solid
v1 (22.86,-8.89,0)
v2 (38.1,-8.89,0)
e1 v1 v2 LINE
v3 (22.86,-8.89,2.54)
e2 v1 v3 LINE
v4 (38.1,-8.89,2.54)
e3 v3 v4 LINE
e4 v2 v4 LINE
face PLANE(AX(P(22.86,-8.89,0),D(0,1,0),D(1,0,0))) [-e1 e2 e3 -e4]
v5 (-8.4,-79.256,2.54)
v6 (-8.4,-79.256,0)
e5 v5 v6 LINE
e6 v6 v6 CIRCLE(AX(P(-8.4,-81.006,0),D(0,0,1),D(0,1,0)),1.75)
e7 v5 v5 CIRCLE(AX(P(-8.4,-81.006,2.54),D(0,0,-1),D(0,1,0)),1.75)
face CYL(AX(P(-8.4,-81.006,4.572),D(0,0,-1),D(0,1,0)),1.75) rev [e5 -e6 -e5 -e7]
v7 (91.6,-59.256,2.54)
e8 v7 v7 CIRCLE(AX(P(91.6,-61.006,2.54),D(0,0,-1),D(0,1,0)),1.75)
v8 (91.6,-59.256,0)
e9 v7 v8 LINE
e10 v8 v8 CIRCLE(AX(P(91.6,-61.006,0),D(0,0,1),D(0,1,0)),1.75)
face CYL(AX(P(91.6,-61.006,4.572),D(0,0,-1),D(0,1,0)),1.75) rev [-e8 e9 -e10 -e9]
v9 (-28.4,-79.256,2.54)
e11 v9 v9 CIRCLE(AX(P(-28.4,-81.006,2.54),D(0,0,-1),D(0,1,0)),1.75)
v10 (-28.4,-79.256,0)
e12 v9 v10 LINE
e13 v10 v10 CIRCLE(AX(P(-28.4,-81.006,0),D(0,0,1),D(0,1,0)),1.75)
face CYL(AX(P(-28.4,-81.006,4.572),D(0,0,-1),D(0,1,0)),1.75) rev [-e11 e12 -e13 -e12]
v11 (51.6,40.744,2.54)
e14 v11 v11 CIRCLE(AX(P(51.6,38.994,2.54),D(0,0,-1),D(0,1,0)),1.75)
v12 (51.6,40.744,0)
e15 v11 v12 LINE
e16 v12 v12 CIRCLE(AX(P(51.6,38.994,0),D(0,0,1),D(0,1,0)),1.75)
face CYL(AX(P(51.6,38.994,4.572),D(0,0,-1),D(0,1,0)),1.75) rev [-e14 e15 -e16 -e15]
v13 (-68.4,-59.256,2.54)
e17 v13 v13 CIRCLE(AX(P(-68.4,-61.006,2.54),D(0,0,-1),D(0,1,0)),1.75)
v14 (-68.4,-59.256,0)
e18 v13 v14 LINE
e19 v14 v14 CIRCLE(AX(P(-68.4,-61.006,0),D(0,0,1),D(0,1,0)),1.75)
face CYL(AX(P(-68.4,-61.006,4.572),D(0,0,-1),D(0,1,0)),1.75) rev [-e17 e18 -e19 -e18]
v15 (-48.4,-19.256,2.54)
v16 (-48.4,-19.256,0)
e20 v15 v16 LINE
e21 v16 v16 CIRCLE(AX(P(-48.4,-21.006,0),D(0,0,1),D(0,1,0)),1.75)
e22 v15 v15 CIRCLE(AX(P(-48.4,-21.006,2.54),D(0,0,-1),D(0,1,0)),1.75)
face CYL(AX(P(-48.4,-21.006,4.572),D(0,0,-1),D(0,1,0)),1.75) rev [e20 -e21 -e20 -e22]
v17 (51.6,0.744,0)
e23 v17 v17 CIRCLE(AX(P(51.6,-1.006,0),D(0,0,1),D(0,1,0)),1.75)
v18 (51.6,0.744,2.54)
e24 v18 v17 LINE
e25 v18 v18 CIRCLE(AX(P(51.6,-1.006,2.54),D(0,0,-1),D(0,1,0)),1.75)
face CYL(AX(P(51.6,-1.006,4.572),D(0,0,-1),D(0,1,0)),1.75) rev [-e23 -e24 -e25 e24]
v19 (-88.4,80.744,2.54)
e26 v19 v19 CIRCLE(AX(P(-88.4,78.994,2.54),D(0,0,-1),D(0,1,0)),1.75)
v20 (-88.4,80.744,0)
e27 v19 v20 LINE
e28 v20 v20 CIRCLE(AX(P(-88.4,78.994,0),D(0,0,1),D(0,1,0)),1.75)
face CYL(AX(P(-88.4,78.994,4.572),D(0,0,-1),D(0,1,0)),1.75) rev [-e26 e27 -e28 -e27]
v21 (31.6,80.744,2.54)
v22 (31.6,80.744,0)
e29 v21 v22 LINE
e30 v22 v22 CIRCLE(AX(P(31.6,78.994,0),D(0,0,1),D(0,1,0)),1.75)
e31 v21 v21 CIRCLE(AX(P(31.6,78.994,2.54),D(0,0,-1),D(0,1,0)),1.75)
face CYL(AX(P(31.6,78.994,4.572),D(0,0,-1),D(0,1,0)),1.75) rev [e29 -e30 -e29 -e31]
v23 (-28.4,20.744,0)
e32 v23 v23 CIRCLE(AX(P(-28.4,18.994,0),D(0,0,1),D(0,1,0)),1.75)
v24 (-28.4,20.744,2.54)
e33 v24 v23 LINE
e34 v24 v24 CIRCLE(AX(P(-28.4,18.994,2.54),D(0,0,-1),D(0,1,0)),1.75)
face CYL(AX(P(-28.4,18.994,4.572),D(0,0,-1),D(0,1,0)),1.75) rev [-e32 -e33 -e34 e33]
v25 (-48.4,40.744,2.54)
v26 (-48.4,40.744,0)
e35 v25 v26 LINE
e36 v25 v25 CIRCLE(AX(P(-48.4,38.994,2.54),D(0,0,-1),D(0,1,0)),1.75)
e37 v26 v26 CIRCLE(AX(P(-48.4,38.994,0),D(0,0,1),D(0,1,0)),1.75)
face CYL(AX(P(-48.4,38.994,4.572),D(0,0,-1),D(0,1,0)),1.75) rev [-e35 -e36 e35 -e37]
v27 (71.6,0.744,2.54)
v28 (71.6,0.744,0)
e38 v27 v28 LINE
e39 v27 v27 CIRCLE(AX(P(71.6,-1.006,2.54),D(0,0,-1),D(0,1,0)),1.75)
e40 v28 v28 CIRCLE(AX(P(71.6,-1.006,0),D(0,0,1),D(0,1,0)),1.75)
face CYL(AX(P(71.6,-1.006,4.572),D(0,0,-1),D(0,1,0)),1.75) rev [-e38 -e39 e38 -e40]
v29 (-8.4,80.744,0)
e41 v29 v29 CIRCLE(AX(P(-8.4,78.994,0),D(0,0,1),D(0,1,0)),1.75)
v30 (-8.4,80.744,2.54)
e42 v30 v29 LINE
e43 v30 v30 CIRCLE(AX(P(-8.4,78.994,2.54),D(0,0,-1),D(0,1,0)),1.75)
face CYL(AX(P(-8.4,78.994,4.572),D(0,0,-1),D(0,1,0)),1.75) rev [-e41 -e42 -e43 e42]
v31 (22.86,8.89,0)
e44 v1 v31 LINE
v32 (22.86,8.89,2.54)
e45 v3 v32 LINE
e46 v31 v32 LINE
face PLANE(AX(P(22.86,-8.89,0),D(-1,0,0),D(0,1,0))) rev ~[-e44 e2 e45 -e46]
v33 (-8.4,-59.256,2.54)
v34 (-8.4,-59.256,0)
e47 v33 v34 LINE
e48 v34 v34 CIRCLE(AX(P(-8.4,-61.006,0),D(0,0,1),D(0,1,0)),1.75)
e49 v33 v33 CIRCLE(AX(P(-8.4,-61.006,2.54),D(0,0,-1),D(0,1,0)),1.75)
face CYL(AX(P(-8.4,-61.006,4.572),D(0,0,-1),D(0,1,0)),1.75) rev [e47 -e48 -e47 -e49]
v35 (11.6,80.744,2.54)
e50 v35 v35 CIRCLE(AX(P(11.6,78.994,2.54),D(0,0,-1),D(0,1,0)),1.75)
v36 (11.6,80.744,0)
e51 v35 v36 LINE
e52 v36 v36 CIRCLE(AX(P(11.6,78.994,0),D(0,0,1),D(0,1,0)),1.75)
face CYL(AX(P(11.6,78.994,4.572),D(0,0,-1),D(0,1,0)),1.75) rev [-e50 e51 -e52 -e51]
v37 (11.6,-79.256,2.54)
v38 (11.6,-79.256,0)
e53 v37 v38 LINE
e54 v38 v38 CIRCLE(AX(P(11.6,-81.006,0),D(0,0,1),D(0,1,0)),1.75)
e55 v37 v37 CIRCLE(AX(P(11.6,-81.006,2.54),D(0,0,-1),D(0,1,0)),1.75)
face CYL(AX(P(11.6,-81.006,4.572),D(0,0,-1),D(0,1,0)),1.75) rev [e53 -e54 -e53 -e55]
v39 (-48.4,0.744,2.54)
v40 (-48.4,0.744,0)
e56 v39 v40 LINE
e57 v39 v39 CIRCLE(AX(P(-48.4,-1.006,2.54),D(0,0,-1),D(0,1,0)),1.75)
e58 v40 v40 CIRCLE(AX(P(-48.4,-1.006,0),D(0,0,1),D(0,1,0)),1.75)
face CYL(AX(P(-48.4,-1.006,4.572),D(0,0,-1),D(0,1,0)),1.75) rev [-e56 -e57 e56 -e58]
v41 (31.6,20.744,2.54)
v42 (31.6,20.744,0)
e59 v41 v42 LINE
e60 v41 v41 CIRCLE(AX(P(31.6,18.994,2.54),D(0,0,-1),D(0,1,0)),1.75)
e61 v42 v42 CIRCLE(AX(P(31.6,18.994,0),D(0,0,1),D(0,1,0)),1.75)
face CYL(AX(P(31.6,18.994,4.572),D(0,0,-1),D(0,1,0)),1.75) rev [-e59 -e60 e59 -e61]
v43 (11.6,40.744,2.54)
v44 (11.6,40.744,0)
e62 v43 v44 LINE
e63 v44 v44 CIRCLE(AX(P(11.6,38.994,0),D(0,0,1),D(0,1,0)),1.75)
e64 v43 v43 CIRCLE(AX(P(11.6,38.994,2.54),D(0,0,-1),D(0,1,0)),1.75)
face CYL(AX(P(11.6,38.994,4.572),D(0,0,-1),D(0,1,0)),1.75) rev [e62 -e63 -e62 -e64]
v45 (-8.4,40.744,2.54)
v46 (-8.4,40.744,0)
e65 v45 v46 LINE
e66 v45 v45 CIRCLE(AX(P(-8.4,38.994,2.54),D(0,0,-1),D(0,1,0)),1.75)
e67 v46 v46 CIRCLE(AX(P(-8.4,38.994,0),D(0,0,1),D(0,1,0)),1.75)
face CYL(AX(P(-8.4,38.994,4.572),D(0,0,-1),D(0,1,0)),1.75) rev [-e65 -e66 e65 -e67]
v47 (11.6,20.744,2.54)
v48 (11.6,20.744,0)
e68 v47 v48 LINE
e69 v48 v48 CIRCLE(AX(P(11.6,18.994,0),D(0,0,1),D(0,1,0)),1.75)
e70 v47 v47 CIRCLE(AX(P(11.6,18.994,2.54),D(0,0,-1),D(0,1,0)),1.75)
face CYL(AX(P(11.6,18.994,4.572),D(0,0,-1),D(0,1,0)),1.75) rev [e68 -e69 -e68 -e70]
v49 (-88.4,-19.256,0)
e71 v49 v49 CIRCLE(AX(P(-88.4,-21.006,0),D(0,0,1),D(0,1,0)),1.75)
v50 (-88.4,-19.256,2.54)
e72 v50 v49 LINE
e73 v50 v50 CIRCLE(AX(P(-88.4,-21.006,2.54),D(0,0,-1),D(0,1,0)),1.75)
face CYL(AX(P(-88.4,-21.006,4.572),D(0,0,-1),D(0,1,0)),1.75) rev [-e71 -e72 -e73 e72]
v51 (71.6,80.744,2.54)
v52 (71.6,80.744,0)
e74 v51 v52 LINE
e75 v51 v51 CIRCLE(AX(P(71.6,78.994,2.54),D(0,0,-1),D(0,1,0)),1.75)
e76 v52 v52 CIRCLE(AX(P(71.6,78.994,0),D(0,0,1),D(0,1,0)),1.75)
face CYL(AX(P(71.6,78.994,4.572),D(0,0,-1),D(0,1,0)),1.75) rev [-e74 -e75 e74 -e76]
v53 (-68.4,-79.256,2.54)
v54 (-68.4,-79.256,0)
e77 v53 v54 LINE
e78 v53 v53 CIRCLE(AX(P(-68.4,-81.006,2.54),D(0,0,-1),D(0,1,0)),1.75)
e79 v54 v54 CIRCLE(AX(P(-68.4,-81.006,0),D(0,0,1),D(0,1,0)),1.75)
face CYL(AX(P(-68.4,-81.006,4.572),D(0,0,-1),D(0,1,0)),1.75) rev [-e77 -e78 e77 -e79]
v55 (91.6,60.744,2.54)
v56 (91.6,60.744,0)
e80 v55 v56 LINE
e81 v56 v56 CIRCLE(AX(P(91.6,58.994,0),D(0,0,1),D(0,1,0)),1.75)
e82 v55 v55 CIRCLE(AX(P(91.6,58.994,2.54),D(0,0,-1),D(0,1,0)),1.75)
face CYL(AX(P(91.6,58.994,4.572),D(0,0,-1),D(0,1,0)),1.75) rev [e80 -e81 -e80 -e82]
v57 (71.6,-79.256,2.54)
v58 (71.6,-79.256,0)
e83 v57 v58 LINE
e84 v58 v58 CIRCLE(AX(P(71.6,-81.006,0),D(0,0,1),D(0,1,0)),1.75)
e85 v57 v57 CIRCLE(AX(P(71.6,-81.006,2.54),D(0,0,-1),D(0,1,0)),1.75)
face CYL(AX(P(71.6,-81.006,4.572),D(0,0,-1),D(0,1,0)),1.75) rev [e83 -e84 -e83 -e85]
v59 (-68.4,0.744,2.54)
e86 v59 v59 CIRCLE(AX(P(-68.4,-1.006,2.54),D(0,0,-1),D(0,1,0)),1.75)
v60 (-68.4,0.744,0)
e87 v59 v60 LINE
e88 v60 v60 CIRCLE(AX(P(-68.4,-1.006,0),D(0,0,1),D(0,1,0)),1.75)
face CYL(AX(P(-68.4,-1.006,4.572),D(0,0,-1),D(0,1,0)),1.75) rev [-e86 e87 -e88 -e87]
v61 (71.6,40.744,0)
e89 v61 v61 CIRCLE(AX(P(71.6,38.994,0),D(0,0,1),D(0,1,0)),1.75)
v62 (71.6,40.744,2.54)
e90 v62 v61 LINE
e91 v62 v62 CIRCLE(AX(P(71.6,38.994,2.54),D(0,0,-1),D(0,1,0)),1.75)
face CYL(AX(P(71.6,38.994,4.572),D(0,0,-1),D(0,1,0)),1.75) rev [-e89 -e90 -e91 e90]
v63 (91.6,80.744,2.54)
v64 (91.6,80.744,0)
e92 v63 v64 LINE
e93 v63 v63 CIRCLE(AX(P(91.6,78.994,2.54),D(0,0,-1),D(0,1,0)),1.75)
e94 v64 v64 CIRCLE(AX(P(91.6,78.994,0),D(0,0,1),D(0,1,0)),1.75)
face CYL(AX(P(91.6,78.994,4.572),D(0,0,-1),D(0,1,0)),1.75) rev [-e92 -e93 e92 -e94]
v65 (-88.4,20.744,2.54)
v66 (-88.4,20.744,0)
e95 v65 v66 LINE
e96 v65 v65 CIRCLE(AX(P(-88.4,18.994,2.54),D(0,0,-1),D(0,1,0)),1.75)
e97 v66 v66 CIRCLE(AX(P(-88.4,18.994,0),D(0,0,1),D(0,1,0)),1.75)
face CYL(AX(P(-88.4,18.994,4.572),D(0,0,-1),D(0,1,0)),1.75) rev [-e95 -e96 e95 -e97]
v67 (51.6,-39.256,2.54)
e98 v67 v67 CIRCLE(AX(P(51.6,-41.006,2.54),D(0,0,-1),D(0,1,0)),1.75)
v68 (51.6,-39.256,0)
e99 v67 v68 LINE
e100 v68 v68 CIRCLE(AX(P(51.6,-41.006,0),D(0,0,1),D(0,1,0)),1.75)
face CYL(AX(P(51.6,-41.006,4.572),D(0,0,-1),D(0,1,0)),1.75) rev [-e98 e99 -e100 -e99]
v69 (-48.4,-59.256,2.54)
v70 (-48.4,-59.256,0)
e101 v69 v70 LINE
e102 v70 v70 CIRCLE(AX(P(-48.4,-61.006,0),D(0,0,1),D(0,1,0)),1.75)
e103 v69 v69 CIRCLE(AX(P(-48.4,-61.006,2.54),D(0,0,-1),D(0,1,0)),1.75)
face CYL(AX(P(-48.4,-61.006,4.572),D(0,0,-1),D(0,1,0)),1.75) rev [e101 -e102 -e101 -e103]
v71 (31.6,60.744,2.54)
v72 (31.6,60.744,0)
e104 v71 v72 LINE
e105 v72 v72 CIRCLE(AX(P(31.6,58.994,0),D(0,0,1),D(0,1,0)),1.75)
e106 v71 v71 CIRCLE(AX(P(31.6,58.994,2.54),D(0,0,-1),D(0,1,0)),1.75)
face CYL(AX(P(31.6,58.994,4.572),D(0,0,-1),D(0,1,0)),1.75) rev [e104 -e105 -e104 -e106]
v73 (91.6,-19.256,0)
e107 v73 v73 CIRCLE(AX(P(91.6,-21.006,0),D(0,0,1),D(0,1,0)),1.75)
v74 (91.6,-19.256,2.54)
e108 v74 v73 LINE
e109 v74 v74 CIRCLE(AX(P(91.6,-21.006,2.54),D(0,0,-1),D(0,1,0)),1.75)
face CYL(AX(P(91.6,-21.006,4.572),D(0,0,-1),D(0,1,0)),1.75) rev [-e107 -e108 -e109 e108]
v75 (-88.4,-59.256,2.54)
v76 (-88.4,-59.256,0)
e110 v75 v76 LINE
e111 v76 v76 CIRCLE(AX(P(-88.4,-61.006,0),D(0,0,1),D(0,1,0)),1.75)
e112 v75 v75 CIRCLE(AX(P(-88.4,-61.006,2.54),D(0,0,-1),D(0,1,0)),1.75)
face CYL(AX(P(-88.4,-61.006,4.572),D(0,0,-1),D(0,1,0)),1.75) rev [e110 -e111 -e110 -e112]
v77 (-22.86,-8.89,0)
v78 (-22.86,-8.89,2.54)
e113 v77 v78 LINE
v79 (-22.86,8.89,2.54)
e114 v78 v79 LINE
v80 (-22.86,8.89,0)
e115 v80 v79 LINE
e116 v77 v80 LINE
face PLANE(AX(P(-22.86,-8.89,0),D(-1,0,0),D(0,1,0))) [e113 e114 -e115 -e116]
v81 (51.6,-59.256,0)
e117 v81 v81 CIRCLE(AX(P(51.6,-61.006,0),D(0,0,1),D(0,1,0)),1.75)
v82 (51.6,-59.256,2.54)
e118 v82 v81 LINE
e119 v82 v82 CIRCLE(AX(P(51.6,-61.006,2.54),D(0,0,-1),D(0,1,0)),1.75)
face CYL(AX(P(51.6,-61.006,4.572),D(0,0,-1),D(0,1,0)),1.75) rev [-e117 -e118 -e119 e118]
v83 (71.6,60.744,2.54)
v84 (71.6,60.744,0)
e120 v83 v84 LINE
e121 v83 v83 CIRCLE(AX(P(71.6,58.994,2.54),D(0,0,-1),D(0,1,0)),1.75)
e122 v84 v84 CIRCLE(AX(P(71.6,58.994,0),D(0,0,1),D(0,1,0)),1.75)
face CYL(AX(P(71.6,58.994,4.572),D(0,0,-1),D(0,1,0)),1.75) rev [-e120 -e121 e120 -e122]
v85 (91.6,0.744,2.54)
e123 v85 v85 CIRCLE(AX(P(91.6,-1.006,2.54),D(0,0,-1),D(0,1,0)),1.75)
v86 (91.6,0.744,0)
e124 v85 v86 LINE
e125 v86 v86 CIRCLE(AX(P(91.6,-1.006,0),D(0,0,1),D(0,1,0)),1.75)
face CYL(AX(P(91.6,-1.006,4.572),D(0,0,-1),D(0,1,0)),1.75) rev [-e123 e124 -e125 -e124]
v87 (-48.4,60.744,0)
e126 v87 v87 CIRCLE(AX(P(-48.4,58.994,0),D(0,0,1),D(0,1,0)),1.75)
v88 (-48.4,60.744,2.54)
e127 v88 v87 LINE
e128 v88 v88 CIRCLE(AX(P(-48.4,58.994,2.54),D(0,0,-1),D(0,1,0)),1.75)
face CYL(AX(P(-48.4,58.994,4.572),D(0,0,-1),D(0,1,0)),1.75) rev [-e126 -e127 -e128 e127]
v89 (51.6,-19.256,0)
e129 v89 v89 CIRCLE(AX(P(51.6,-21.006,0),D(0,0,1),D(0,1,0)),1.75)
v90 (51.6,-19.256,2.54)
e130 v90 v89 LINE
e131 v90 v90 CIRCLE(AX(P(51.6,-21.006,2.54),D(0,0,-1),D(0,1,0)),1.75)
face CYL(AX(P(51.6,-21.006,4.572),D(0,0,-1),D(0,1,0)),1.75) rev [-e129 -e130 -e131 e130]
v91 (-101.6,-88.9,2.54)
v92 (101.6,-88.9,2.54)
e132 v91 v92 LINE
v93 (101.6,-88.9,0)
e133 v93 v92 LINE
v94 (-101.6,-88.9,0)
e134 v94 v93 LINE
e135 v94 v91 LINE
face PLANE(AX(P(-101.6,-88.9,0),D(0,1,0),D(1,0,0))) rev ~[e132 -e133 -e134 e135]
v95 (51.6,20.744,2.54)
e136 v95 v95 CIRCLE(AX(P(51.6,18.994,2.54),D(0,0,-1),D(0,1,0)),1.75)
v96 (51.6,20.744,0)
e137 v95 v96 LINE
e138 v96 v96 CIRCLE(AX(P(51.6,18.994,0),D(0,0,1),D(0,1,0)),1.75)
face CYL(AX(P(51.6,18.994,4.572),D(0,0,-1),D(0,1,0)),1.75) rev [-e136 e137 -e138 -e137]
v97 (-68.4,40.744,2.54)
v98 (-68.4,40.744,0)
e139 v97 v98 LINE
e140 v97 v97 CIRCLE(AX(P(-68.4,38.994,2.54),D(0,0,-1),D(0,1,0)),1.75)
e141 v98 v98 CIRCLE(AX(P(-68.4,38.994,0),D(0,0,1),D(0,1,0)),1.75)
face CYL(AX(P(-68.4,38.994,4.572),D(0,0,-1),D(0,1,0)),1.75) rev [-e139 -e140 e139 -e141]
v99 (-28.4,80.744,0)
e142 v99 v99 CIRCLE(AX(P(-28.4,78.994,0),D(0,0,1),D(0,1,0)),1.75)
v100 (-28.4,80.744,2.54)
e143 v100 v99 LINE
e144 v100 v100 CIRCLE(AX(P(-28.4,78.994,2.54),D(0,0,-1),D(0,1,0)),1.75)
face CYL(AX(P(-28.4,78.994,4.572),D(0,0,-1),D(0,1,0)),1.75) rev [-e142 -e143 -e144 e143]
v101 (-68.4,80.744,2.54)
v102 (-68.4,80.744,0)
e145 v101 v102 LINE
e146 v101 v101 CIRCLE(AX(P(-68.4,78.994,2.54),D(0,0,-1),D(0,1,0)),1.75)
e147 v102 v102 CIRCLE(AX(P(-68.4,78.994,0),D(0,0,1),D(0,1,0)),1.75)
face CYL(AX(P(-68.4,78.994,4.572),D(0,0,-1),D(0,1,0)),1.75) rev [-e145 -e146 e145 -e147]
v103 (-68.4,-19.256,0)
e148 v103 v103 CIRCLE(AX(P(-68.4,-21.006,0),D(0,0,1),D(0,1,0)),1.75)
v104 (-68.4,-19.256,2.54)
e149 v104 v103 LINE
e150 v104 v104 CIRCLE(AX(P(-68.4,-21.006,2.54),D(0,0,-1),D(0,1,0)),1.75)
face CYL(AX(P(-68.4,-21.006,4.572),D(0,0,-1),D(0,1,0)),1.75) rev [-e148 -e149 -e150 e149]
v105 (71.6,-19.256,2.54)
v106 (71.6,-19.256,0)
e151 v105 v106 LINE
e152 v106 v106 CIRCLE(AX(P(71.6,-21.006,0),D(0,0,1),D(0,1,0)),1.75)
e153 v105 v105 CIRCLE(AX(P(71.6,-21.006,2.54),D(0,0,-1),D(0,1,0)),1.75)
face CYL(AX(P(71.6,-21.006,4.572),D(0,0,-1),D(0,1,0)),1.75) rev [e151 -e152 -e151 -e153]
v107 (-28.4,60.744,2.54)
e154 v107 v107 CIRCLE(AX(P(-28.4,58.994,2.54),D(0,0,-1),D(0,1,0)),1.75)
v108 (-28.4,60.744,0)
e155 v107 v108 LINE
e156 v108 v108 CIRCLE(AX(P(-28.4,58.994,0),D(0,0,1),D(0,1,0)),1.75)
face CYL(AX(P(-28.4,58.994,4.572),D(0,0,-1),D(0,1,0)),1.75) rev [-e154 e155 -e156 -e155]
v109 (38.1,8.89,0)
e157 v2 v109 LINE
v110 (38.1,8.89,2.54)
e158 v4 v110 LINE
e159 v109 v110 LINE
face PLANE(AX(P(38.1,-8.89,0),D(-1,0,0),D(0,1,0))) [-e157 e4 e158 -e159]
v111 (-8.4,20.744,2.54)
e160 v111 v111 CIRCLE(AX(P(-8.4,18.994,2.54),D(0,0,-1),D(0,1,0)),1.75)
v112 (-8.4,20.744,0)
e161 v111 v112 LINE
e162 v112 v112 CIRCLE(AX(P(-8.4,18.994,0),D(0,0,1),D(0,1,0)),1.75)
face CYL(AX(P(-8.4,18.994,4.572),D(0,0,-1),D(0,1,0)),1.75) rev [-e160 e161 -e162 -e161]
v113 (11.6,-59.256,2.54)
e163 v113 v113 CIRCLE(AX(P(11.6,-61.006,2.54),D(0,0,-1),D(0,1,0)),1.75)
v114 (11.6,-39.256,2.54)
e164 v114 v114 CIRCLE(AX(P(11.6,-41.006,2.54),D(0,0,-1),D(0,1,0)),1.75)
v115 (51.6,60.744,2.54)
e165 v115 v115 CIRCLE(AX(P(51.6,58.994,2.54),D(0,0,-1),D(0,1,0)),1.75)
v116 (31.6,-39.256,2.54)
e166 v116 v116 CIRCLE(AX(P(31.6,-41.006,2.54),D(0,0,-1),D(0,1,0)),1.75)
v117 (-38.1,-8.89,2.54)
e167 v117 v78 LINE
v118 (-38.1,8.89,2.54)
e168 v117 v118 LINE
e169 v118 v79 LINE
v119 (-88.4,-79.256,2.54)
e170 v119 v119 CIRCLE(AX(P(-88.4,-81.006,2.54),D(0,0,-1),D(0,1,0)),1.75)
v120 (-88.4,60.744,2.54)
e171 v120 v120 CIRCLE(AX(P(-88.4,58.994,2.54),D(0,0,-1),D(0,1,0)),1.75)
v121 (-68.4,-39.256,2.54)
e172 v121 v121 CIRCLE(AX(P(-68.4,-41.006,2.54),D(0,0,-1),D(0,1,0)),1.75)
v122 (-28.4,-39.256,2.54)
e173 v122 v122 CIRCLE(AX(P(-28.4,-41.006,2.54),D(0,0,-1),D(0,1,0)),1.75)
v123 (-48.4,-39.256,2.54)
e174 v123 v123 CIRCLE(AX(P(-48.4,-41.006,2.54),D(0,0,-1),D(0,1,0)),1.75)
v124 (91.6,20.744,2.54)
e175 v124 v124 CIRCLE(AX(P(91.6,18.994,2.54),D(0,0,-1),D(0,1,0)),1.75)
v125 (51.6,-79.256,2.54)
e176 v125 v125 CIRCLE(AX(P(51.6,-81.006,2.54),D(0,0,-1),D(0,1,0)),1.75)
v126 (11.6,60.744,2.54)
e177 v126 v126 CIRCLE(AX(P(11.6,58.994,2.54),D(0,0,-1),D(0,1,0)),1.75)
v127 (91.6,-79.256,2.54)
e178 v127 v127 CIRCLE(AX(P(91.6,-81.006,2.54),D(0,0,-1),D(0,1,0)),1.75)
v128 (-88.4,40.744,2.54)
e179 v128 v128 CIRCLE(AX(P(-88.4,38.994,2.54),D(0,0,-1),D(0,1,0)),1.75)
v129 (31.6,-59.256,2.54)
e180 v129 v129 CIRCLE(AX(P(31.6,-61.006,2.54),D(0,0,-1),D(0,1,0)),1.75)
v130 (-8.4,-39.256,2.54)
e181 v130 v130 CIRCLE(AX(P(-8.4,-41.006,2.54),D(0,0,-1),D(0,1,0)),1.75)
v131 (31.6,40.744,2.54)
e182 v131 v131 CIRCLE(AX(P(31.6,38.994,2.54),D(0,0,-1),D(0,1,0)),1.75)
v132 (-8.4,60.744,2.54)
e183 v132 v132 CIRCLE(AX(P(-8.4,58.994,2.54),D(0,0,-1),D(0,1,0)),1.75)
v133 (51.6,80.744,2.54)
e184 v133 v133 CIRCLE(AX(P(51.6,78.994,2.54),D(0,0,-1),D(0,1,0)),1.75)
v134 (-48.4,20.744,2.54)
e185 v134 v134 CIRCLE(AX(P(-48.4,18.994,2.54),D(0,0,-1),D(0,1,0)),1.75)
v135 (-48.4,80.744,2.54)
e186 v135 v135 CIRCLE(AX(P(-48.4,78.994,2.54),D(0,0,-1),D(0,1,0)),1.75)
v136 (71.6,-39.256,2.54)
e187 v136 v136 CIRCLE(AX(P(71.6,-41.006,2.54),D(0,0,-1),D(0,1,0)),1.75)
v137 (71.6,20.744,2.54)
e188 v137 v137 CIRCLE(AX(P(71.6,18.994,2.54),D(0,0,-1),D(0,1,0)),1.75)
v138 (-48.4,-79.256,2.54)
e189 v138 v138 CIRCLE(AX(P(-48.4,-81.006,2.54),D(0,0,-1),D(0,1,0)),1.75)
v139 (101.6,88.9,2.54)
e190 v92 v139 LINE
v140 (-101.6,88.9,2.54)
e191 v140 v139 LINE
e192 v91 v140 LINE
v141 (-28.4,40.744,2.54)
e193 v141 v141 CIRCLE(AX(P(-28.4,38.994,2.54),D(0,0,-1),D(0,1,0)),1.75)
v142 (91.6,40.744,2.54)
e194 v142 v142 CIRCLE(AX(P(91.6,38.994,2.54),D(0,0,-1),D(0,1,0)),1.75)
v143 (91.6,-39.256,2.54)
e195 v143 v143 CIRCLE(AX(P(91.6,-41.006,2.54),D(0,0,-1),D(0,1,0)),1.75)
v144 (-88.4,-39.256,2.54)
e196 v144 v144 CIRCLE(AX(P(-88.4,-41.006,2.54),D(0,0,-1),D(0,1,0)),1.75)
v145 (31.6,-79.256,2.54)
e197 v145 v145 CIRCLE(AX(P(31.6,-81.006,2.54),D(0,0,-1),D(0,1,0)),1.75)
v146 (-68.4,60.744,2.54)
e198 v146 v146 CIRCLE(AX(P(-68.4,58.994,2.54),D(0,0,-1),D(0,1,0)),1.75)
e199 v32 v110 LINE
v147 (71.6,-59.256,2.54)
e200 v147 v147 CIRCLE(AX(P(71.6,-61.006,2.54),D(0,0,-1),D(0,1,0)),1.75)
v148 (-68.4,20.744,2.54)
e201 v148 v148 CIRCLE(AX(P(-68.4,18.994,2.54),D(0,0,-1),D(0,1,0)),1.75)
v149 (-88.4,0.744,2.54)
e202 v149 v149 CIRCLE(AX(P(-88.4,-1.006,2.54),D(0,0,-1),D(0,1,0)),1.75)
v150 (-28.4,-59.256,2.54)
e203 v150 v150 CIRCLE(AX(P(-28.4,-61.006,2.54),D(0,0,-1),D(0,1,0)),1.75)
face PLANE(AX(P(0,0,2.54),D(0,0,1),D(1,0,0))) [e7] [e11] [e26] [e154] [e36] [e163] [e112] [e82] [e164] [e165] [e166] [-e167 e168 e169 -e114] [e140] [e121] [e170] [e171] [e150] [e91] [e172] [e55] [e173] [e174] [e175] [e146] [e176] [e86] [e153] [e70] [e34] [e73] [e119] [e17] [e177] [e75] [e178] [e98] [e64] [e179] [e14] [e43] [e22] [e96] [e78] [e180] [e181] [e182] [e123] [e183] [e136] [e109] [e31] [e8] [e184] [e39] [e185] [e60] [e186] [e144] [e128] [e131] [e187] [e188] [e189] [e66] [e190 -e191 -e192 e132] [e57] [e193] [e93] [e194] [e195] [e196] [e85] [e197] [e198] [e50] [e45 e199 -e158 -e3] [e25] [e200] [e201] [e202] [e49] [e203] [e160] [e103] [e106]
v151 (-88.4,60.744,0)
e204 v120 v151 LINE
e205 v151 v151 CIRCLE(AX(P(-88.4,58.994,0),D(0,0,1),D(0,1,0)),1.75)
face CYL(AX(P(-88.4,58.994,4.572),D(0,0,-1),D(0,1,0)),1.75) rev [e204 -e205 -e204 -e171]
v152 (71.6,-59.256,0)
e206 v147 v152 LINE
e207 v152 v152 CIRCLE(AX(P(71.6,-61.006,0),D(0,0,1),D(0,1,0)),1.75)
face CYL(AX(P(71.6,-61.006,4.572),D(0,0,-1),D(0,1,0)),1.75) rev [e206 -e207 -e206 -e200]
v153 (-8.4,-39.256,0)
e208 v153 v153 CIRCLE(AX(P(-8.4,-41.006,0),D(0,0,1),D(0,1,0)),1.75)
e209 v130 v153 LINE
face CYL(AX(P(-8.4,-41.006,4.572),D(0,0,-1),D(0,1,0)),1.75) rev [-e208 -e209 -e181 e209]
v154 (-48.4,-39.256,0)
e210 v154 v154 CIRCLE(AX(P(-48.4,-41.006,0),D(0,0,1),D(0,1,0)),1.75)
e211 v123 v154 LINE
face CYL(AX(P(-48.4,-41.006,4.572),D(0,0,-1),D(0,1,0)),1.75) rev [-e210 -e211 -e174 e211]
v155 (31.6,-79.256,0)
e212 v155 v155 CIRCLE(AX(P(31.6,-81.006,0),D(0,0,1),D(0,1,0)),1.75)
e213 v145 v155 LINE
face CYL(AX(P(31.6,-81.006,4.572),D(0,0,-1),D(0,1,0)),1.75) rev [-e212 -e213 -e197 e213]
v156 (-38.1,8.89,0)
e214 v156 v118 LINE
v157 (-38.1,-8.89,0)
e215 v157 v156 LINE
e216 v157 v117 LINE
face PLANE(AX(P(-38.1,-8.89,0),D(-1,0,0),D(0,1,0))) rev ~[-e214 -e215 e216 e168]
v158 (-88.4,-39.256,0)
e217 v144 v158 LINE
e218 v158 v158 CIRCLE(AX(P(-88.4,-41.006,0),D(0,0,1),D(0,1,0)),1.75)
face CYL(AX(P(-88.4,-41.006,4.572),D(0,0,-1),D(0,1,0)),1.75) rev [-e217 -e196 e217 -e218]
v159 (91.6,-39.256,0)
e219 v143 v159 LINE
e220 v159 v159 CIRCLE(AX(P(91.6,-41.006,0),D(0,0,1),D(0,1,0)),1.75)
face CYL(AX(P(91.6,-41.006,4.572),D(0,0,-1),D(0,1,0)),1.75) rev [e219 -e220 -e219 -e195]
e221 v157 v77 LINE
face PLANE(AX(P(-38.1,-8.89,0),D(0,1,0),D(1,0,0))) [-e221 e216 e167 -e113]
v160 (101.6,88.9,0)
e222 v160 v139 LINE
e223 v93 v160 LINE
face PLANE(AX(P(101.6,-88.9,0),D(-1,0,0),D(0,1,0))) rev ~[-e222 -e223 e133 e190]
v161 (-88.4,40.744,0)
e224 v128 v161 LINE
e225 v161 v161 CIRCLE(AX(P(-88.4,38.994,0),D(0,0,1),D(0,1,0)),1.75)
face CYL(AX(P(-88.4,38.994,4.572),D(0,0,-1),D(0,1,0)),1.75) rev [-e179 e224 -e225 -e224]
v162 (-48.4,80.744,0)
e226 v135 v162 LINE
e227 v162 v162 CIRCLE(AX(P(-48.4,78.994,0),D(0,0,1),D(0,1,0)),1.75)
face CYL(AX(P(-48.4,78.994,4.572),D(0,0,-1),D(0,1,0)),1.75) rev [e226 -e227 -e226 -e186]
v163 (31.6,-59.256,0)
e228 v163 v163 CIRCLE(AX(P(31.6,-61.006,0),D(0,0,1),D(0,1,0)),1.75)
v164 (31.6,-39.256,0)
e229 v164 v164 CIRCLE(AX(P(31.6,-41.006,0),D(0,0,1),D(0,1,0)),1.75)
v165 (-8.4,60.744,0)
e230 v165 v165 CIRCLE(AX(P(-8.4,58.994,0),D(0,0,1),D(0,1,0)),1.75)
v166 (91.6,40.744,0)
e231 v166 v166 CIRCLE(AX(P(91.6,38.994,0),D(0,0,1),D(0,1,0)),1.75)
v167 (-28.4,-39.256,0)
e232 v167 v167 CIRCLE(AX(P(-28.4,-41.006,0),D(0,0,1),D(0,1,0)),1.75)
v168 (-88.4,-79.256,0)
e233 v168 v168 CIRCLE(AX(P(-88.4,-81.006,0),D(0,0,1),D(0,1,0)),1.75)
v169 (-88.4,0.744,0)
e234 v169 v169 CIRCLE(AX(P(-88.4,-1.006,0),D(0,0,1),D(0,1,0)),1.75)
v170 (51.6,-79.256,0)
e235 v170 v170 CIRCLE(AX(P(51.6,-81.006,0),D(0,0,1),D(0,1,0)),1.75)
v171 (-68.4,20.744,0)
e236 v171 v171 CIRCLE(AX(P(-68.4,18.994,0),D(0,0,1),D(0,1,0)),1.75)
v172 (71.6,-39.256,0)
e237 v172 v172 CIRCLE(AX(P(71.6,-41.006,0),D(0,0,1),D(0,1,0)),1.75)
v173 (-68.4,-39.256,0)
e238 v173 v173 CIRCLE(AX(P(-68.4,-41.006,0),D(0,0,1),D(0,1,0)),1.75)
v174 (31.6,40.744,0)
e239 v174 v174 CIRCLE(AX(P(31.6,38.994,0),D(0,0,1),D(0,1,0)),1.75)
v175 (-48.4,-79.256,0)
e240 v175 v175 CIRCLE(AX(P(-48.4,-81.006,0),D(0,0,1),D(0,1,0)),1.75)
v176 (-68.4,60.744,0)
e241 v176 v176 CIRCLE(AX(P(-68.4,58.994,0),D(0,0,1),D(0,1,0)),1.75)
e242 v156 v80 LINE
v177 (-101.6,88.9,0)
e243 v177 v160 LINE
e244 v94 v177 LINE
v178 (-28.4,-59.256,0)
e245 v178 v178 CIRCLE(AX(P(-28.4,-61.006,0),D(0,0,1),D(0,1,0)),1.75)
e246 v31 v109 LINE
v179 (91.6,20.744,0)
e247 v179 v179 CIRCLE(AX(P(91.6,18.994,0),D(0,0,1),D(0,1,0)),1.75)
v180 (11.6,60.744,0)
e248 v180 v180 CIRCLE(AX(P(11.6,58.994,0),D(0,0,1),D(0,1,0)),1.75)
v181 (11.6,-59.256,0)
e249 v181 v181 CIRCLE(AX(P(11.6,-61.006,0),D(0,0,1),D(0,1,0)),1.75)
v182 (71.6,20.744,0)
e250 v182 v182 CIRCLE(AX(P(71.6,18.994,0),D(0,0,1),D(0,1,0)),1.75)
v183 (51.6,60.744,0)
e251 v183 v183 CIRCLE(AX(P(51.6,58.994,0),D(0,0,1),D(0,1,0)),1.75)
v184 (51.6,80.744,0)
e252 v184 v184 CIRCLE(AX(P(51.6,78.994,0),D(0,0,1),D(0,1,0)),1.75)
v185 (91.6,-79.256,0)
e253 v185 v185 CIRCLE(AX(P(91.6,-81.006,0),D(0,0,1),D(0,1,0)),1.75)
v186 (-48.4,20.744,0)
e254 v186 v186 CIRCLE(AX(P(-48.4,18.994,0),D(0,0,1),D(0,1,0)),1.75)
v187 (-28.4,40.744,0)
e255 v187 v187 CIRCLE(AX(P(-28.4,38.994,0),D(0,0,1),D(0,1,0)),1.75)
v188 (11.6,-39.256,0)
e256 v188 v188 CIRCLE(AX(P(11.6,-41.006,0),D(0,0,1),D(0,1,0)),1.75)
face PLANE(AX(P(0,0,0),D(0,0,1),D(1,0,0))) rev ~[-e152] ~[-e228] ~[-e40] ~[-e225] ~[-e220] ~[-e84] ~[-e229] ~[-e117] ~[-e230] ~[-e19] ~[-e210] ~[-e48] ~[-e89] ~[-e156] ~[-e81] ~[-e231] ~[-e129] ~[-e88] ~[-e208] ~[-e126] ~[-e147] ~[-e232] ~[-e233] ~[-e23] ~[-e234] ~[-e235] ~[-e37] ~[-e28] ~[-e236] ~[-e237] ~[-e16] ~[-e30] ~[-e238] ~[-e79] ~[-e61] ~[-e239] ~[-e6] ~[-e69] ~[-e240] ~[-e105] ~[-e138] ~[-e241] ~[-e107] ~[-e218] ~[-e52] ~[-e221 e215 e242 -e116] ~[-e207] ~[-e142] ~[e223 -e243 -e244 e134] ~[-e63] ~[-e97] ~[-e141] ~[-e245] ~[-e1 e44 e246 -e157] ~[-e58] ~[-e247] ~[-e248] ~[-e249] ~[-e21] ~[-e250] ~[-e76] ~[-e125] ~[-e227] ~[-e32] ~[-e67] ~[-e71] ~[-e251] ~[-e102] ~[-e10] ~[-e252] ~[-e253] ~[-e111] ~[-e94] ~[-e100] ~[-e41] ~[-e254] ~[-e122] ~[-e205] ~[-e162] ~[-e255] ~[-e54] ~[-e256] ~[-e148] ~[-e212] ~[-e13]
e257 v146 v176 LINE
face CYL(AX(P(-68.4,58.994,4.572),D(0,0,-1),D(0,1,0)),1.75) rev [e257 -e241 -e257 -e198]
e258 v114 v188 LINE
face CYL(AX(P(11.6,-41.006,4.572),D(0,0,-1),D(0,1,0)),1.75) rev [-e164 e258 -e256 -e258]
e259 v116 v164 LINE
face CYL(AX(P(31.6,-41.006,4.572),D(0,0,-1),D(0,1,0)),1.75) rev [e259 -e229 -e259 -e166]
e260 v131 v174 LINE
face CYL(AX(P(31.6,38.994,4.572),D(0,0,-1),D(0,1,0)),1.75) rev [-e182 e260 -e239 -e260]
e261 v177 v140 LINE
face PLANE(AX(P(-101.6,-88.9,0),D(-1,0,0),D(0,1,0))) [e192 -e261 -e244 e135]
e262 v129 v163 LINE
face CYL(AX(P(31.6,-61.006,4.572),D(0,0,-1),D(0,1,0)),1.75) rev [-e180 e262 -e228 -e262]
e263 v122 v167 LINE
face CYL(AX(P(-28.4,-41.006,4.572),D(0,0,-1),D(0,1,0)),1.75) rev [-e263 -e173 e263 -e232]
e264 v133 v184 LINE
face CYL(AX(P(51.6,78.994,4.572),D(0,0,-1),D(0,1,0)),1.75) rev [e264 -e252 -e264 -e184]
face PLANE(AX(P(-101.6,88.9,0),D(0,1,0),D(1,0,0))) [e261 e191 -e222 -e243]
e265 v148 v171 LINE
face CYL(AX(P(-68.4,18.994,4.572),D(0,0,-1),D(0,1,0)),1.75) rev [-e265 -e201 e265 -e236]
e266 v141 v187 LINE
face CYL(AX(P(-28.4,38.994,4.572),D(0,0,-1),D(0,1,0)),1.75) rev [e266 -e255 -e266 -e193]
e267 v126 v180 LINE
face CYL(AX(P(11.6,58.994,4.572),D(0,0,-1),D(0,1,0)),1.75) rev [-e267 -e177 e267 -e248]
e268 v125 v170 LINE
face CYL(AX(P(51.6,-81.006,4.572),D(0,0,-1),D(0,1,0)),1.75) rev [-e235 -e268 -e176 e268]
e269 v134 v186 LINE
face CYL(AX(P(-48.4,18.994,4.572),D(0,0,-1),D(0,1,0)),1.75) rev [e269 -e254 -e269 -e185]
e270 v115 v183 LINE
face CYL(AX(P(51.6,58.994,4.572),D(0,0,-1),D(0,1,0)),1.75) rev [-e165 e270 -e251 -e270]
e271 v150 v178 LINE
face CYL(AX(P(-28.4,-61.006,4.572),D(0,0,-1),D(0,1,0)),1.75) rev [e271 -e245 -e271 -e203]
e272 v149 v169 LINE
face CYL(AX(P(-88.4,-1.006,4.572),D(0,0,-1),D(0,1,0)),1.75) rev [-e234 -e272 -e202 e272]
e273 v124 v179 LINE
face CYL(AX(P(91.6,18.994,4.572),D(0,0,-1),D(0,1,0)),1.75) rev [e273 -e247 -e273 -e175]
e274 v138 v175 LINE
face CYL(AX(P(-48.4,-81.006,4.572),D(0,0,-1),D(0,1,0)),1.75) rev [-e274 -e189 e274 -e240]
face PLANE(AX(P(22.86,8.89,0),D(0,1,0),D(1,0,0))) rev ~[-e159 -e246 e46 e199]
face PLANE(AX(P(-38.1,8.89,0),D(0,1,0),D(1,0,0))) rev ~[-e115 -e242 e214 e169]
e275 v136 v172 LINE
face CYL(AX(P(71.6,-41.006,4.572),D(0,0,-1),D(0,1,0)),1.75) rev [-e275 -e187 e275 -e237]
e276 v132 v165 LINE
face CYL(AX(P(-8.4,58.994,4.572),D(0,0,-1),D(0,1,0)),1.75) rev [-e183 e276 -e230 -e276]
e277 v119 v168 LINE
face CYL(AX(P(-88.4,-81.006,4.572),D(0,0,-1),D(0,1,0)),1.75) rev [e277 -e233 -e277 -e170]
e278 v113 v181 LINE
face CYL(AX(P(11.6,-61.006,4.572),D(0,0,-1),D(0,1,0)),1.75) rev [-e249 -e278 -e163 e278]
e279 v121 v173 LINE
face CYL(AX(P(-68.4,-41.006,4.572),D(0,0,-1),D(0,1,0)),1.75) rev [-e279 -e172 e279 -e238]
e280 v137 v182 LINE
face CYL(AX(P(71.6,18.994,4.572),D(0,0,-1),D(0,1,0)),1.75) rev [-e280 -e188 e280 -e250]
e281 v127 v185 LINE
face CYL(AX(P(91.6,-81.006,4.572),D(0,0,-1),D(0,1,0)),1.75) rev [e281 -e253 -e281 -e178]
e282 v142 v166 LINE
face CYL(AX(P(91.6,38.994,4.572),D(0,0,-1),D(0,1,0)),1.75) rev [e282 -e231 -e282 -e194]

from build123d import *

# Parameters (mm, degrees)
SKETCH1_W            = 203.2
SKETCH1_H            = 177.8
SKETCH1_W_2          = 15.24
SKETCH1_H_2          = 17.78
BOSS_EXTRUDE1_DEPTH  = 2.54
LPATTERN2_COUNT      = 9
LPATTERN2_PITCH      = 20
LPATTERN2_COUNT_DIR2 = 10
LPATTERN2_PITCH_DIR2 = 20


with BuildPart() as part:
    # Sketch1 → Boss-Extrude1 (new body)
    with BuildSketch(Plane.XY):
        Rectangle(SKETCH1_W, SKETCH1_H)
        with Locations((-30.48, 0)):
            Rectangle(SKETCH1_W_2, SKETCH1_H_2, mode=Mode.SUBTRACT)
        with Locations((30.48, 0)):
            Rectangle(SKETCH1_W_2, SKETCH1_H_2, mode=Mode.SUBTRACT)
    extrude(amount=BOSS_EXTRUDE1_DEPTH)

    # Sketch4 → M2.5 Clearance Hole1 (revolve, cut)
    with BuildSketch(Plane(origin=(91.6, 78.994, 0), x_dir=(0, 1, 0), z_dir=(1, 0, 0))):
        Polygon((0, 0), (0, 5.623506083), (1.75, 4.572), (1.75, 0), align=None)
    m2_5_clearance_hole1 = revolve(axis=Axis((91.6, 78.994, -6.35), (0, 0, 1)), mode=Mode.SUBTRACT)

    # LPattern2: M2.5 Clearance Hole1 9 × 10, 8 skipped
    with Locations(*[(-j * LPATTERN2_PITCH_DIR2, -i * LPATTERN2_PITCH, 0) for i in range(LPATTERN2_COUNT) for j in range(LPATTERN2_COUNT_DIR2) if (i, j) not in ((0, 0), (4, 3), (4, 4), (4, 5), (4, 6), (5, 3), (5, 4), (5, 5), (5, 6))]):
        add(m2_5_clearance_hole1, mode=Mode.SUBTRACT)


solid = part.part
